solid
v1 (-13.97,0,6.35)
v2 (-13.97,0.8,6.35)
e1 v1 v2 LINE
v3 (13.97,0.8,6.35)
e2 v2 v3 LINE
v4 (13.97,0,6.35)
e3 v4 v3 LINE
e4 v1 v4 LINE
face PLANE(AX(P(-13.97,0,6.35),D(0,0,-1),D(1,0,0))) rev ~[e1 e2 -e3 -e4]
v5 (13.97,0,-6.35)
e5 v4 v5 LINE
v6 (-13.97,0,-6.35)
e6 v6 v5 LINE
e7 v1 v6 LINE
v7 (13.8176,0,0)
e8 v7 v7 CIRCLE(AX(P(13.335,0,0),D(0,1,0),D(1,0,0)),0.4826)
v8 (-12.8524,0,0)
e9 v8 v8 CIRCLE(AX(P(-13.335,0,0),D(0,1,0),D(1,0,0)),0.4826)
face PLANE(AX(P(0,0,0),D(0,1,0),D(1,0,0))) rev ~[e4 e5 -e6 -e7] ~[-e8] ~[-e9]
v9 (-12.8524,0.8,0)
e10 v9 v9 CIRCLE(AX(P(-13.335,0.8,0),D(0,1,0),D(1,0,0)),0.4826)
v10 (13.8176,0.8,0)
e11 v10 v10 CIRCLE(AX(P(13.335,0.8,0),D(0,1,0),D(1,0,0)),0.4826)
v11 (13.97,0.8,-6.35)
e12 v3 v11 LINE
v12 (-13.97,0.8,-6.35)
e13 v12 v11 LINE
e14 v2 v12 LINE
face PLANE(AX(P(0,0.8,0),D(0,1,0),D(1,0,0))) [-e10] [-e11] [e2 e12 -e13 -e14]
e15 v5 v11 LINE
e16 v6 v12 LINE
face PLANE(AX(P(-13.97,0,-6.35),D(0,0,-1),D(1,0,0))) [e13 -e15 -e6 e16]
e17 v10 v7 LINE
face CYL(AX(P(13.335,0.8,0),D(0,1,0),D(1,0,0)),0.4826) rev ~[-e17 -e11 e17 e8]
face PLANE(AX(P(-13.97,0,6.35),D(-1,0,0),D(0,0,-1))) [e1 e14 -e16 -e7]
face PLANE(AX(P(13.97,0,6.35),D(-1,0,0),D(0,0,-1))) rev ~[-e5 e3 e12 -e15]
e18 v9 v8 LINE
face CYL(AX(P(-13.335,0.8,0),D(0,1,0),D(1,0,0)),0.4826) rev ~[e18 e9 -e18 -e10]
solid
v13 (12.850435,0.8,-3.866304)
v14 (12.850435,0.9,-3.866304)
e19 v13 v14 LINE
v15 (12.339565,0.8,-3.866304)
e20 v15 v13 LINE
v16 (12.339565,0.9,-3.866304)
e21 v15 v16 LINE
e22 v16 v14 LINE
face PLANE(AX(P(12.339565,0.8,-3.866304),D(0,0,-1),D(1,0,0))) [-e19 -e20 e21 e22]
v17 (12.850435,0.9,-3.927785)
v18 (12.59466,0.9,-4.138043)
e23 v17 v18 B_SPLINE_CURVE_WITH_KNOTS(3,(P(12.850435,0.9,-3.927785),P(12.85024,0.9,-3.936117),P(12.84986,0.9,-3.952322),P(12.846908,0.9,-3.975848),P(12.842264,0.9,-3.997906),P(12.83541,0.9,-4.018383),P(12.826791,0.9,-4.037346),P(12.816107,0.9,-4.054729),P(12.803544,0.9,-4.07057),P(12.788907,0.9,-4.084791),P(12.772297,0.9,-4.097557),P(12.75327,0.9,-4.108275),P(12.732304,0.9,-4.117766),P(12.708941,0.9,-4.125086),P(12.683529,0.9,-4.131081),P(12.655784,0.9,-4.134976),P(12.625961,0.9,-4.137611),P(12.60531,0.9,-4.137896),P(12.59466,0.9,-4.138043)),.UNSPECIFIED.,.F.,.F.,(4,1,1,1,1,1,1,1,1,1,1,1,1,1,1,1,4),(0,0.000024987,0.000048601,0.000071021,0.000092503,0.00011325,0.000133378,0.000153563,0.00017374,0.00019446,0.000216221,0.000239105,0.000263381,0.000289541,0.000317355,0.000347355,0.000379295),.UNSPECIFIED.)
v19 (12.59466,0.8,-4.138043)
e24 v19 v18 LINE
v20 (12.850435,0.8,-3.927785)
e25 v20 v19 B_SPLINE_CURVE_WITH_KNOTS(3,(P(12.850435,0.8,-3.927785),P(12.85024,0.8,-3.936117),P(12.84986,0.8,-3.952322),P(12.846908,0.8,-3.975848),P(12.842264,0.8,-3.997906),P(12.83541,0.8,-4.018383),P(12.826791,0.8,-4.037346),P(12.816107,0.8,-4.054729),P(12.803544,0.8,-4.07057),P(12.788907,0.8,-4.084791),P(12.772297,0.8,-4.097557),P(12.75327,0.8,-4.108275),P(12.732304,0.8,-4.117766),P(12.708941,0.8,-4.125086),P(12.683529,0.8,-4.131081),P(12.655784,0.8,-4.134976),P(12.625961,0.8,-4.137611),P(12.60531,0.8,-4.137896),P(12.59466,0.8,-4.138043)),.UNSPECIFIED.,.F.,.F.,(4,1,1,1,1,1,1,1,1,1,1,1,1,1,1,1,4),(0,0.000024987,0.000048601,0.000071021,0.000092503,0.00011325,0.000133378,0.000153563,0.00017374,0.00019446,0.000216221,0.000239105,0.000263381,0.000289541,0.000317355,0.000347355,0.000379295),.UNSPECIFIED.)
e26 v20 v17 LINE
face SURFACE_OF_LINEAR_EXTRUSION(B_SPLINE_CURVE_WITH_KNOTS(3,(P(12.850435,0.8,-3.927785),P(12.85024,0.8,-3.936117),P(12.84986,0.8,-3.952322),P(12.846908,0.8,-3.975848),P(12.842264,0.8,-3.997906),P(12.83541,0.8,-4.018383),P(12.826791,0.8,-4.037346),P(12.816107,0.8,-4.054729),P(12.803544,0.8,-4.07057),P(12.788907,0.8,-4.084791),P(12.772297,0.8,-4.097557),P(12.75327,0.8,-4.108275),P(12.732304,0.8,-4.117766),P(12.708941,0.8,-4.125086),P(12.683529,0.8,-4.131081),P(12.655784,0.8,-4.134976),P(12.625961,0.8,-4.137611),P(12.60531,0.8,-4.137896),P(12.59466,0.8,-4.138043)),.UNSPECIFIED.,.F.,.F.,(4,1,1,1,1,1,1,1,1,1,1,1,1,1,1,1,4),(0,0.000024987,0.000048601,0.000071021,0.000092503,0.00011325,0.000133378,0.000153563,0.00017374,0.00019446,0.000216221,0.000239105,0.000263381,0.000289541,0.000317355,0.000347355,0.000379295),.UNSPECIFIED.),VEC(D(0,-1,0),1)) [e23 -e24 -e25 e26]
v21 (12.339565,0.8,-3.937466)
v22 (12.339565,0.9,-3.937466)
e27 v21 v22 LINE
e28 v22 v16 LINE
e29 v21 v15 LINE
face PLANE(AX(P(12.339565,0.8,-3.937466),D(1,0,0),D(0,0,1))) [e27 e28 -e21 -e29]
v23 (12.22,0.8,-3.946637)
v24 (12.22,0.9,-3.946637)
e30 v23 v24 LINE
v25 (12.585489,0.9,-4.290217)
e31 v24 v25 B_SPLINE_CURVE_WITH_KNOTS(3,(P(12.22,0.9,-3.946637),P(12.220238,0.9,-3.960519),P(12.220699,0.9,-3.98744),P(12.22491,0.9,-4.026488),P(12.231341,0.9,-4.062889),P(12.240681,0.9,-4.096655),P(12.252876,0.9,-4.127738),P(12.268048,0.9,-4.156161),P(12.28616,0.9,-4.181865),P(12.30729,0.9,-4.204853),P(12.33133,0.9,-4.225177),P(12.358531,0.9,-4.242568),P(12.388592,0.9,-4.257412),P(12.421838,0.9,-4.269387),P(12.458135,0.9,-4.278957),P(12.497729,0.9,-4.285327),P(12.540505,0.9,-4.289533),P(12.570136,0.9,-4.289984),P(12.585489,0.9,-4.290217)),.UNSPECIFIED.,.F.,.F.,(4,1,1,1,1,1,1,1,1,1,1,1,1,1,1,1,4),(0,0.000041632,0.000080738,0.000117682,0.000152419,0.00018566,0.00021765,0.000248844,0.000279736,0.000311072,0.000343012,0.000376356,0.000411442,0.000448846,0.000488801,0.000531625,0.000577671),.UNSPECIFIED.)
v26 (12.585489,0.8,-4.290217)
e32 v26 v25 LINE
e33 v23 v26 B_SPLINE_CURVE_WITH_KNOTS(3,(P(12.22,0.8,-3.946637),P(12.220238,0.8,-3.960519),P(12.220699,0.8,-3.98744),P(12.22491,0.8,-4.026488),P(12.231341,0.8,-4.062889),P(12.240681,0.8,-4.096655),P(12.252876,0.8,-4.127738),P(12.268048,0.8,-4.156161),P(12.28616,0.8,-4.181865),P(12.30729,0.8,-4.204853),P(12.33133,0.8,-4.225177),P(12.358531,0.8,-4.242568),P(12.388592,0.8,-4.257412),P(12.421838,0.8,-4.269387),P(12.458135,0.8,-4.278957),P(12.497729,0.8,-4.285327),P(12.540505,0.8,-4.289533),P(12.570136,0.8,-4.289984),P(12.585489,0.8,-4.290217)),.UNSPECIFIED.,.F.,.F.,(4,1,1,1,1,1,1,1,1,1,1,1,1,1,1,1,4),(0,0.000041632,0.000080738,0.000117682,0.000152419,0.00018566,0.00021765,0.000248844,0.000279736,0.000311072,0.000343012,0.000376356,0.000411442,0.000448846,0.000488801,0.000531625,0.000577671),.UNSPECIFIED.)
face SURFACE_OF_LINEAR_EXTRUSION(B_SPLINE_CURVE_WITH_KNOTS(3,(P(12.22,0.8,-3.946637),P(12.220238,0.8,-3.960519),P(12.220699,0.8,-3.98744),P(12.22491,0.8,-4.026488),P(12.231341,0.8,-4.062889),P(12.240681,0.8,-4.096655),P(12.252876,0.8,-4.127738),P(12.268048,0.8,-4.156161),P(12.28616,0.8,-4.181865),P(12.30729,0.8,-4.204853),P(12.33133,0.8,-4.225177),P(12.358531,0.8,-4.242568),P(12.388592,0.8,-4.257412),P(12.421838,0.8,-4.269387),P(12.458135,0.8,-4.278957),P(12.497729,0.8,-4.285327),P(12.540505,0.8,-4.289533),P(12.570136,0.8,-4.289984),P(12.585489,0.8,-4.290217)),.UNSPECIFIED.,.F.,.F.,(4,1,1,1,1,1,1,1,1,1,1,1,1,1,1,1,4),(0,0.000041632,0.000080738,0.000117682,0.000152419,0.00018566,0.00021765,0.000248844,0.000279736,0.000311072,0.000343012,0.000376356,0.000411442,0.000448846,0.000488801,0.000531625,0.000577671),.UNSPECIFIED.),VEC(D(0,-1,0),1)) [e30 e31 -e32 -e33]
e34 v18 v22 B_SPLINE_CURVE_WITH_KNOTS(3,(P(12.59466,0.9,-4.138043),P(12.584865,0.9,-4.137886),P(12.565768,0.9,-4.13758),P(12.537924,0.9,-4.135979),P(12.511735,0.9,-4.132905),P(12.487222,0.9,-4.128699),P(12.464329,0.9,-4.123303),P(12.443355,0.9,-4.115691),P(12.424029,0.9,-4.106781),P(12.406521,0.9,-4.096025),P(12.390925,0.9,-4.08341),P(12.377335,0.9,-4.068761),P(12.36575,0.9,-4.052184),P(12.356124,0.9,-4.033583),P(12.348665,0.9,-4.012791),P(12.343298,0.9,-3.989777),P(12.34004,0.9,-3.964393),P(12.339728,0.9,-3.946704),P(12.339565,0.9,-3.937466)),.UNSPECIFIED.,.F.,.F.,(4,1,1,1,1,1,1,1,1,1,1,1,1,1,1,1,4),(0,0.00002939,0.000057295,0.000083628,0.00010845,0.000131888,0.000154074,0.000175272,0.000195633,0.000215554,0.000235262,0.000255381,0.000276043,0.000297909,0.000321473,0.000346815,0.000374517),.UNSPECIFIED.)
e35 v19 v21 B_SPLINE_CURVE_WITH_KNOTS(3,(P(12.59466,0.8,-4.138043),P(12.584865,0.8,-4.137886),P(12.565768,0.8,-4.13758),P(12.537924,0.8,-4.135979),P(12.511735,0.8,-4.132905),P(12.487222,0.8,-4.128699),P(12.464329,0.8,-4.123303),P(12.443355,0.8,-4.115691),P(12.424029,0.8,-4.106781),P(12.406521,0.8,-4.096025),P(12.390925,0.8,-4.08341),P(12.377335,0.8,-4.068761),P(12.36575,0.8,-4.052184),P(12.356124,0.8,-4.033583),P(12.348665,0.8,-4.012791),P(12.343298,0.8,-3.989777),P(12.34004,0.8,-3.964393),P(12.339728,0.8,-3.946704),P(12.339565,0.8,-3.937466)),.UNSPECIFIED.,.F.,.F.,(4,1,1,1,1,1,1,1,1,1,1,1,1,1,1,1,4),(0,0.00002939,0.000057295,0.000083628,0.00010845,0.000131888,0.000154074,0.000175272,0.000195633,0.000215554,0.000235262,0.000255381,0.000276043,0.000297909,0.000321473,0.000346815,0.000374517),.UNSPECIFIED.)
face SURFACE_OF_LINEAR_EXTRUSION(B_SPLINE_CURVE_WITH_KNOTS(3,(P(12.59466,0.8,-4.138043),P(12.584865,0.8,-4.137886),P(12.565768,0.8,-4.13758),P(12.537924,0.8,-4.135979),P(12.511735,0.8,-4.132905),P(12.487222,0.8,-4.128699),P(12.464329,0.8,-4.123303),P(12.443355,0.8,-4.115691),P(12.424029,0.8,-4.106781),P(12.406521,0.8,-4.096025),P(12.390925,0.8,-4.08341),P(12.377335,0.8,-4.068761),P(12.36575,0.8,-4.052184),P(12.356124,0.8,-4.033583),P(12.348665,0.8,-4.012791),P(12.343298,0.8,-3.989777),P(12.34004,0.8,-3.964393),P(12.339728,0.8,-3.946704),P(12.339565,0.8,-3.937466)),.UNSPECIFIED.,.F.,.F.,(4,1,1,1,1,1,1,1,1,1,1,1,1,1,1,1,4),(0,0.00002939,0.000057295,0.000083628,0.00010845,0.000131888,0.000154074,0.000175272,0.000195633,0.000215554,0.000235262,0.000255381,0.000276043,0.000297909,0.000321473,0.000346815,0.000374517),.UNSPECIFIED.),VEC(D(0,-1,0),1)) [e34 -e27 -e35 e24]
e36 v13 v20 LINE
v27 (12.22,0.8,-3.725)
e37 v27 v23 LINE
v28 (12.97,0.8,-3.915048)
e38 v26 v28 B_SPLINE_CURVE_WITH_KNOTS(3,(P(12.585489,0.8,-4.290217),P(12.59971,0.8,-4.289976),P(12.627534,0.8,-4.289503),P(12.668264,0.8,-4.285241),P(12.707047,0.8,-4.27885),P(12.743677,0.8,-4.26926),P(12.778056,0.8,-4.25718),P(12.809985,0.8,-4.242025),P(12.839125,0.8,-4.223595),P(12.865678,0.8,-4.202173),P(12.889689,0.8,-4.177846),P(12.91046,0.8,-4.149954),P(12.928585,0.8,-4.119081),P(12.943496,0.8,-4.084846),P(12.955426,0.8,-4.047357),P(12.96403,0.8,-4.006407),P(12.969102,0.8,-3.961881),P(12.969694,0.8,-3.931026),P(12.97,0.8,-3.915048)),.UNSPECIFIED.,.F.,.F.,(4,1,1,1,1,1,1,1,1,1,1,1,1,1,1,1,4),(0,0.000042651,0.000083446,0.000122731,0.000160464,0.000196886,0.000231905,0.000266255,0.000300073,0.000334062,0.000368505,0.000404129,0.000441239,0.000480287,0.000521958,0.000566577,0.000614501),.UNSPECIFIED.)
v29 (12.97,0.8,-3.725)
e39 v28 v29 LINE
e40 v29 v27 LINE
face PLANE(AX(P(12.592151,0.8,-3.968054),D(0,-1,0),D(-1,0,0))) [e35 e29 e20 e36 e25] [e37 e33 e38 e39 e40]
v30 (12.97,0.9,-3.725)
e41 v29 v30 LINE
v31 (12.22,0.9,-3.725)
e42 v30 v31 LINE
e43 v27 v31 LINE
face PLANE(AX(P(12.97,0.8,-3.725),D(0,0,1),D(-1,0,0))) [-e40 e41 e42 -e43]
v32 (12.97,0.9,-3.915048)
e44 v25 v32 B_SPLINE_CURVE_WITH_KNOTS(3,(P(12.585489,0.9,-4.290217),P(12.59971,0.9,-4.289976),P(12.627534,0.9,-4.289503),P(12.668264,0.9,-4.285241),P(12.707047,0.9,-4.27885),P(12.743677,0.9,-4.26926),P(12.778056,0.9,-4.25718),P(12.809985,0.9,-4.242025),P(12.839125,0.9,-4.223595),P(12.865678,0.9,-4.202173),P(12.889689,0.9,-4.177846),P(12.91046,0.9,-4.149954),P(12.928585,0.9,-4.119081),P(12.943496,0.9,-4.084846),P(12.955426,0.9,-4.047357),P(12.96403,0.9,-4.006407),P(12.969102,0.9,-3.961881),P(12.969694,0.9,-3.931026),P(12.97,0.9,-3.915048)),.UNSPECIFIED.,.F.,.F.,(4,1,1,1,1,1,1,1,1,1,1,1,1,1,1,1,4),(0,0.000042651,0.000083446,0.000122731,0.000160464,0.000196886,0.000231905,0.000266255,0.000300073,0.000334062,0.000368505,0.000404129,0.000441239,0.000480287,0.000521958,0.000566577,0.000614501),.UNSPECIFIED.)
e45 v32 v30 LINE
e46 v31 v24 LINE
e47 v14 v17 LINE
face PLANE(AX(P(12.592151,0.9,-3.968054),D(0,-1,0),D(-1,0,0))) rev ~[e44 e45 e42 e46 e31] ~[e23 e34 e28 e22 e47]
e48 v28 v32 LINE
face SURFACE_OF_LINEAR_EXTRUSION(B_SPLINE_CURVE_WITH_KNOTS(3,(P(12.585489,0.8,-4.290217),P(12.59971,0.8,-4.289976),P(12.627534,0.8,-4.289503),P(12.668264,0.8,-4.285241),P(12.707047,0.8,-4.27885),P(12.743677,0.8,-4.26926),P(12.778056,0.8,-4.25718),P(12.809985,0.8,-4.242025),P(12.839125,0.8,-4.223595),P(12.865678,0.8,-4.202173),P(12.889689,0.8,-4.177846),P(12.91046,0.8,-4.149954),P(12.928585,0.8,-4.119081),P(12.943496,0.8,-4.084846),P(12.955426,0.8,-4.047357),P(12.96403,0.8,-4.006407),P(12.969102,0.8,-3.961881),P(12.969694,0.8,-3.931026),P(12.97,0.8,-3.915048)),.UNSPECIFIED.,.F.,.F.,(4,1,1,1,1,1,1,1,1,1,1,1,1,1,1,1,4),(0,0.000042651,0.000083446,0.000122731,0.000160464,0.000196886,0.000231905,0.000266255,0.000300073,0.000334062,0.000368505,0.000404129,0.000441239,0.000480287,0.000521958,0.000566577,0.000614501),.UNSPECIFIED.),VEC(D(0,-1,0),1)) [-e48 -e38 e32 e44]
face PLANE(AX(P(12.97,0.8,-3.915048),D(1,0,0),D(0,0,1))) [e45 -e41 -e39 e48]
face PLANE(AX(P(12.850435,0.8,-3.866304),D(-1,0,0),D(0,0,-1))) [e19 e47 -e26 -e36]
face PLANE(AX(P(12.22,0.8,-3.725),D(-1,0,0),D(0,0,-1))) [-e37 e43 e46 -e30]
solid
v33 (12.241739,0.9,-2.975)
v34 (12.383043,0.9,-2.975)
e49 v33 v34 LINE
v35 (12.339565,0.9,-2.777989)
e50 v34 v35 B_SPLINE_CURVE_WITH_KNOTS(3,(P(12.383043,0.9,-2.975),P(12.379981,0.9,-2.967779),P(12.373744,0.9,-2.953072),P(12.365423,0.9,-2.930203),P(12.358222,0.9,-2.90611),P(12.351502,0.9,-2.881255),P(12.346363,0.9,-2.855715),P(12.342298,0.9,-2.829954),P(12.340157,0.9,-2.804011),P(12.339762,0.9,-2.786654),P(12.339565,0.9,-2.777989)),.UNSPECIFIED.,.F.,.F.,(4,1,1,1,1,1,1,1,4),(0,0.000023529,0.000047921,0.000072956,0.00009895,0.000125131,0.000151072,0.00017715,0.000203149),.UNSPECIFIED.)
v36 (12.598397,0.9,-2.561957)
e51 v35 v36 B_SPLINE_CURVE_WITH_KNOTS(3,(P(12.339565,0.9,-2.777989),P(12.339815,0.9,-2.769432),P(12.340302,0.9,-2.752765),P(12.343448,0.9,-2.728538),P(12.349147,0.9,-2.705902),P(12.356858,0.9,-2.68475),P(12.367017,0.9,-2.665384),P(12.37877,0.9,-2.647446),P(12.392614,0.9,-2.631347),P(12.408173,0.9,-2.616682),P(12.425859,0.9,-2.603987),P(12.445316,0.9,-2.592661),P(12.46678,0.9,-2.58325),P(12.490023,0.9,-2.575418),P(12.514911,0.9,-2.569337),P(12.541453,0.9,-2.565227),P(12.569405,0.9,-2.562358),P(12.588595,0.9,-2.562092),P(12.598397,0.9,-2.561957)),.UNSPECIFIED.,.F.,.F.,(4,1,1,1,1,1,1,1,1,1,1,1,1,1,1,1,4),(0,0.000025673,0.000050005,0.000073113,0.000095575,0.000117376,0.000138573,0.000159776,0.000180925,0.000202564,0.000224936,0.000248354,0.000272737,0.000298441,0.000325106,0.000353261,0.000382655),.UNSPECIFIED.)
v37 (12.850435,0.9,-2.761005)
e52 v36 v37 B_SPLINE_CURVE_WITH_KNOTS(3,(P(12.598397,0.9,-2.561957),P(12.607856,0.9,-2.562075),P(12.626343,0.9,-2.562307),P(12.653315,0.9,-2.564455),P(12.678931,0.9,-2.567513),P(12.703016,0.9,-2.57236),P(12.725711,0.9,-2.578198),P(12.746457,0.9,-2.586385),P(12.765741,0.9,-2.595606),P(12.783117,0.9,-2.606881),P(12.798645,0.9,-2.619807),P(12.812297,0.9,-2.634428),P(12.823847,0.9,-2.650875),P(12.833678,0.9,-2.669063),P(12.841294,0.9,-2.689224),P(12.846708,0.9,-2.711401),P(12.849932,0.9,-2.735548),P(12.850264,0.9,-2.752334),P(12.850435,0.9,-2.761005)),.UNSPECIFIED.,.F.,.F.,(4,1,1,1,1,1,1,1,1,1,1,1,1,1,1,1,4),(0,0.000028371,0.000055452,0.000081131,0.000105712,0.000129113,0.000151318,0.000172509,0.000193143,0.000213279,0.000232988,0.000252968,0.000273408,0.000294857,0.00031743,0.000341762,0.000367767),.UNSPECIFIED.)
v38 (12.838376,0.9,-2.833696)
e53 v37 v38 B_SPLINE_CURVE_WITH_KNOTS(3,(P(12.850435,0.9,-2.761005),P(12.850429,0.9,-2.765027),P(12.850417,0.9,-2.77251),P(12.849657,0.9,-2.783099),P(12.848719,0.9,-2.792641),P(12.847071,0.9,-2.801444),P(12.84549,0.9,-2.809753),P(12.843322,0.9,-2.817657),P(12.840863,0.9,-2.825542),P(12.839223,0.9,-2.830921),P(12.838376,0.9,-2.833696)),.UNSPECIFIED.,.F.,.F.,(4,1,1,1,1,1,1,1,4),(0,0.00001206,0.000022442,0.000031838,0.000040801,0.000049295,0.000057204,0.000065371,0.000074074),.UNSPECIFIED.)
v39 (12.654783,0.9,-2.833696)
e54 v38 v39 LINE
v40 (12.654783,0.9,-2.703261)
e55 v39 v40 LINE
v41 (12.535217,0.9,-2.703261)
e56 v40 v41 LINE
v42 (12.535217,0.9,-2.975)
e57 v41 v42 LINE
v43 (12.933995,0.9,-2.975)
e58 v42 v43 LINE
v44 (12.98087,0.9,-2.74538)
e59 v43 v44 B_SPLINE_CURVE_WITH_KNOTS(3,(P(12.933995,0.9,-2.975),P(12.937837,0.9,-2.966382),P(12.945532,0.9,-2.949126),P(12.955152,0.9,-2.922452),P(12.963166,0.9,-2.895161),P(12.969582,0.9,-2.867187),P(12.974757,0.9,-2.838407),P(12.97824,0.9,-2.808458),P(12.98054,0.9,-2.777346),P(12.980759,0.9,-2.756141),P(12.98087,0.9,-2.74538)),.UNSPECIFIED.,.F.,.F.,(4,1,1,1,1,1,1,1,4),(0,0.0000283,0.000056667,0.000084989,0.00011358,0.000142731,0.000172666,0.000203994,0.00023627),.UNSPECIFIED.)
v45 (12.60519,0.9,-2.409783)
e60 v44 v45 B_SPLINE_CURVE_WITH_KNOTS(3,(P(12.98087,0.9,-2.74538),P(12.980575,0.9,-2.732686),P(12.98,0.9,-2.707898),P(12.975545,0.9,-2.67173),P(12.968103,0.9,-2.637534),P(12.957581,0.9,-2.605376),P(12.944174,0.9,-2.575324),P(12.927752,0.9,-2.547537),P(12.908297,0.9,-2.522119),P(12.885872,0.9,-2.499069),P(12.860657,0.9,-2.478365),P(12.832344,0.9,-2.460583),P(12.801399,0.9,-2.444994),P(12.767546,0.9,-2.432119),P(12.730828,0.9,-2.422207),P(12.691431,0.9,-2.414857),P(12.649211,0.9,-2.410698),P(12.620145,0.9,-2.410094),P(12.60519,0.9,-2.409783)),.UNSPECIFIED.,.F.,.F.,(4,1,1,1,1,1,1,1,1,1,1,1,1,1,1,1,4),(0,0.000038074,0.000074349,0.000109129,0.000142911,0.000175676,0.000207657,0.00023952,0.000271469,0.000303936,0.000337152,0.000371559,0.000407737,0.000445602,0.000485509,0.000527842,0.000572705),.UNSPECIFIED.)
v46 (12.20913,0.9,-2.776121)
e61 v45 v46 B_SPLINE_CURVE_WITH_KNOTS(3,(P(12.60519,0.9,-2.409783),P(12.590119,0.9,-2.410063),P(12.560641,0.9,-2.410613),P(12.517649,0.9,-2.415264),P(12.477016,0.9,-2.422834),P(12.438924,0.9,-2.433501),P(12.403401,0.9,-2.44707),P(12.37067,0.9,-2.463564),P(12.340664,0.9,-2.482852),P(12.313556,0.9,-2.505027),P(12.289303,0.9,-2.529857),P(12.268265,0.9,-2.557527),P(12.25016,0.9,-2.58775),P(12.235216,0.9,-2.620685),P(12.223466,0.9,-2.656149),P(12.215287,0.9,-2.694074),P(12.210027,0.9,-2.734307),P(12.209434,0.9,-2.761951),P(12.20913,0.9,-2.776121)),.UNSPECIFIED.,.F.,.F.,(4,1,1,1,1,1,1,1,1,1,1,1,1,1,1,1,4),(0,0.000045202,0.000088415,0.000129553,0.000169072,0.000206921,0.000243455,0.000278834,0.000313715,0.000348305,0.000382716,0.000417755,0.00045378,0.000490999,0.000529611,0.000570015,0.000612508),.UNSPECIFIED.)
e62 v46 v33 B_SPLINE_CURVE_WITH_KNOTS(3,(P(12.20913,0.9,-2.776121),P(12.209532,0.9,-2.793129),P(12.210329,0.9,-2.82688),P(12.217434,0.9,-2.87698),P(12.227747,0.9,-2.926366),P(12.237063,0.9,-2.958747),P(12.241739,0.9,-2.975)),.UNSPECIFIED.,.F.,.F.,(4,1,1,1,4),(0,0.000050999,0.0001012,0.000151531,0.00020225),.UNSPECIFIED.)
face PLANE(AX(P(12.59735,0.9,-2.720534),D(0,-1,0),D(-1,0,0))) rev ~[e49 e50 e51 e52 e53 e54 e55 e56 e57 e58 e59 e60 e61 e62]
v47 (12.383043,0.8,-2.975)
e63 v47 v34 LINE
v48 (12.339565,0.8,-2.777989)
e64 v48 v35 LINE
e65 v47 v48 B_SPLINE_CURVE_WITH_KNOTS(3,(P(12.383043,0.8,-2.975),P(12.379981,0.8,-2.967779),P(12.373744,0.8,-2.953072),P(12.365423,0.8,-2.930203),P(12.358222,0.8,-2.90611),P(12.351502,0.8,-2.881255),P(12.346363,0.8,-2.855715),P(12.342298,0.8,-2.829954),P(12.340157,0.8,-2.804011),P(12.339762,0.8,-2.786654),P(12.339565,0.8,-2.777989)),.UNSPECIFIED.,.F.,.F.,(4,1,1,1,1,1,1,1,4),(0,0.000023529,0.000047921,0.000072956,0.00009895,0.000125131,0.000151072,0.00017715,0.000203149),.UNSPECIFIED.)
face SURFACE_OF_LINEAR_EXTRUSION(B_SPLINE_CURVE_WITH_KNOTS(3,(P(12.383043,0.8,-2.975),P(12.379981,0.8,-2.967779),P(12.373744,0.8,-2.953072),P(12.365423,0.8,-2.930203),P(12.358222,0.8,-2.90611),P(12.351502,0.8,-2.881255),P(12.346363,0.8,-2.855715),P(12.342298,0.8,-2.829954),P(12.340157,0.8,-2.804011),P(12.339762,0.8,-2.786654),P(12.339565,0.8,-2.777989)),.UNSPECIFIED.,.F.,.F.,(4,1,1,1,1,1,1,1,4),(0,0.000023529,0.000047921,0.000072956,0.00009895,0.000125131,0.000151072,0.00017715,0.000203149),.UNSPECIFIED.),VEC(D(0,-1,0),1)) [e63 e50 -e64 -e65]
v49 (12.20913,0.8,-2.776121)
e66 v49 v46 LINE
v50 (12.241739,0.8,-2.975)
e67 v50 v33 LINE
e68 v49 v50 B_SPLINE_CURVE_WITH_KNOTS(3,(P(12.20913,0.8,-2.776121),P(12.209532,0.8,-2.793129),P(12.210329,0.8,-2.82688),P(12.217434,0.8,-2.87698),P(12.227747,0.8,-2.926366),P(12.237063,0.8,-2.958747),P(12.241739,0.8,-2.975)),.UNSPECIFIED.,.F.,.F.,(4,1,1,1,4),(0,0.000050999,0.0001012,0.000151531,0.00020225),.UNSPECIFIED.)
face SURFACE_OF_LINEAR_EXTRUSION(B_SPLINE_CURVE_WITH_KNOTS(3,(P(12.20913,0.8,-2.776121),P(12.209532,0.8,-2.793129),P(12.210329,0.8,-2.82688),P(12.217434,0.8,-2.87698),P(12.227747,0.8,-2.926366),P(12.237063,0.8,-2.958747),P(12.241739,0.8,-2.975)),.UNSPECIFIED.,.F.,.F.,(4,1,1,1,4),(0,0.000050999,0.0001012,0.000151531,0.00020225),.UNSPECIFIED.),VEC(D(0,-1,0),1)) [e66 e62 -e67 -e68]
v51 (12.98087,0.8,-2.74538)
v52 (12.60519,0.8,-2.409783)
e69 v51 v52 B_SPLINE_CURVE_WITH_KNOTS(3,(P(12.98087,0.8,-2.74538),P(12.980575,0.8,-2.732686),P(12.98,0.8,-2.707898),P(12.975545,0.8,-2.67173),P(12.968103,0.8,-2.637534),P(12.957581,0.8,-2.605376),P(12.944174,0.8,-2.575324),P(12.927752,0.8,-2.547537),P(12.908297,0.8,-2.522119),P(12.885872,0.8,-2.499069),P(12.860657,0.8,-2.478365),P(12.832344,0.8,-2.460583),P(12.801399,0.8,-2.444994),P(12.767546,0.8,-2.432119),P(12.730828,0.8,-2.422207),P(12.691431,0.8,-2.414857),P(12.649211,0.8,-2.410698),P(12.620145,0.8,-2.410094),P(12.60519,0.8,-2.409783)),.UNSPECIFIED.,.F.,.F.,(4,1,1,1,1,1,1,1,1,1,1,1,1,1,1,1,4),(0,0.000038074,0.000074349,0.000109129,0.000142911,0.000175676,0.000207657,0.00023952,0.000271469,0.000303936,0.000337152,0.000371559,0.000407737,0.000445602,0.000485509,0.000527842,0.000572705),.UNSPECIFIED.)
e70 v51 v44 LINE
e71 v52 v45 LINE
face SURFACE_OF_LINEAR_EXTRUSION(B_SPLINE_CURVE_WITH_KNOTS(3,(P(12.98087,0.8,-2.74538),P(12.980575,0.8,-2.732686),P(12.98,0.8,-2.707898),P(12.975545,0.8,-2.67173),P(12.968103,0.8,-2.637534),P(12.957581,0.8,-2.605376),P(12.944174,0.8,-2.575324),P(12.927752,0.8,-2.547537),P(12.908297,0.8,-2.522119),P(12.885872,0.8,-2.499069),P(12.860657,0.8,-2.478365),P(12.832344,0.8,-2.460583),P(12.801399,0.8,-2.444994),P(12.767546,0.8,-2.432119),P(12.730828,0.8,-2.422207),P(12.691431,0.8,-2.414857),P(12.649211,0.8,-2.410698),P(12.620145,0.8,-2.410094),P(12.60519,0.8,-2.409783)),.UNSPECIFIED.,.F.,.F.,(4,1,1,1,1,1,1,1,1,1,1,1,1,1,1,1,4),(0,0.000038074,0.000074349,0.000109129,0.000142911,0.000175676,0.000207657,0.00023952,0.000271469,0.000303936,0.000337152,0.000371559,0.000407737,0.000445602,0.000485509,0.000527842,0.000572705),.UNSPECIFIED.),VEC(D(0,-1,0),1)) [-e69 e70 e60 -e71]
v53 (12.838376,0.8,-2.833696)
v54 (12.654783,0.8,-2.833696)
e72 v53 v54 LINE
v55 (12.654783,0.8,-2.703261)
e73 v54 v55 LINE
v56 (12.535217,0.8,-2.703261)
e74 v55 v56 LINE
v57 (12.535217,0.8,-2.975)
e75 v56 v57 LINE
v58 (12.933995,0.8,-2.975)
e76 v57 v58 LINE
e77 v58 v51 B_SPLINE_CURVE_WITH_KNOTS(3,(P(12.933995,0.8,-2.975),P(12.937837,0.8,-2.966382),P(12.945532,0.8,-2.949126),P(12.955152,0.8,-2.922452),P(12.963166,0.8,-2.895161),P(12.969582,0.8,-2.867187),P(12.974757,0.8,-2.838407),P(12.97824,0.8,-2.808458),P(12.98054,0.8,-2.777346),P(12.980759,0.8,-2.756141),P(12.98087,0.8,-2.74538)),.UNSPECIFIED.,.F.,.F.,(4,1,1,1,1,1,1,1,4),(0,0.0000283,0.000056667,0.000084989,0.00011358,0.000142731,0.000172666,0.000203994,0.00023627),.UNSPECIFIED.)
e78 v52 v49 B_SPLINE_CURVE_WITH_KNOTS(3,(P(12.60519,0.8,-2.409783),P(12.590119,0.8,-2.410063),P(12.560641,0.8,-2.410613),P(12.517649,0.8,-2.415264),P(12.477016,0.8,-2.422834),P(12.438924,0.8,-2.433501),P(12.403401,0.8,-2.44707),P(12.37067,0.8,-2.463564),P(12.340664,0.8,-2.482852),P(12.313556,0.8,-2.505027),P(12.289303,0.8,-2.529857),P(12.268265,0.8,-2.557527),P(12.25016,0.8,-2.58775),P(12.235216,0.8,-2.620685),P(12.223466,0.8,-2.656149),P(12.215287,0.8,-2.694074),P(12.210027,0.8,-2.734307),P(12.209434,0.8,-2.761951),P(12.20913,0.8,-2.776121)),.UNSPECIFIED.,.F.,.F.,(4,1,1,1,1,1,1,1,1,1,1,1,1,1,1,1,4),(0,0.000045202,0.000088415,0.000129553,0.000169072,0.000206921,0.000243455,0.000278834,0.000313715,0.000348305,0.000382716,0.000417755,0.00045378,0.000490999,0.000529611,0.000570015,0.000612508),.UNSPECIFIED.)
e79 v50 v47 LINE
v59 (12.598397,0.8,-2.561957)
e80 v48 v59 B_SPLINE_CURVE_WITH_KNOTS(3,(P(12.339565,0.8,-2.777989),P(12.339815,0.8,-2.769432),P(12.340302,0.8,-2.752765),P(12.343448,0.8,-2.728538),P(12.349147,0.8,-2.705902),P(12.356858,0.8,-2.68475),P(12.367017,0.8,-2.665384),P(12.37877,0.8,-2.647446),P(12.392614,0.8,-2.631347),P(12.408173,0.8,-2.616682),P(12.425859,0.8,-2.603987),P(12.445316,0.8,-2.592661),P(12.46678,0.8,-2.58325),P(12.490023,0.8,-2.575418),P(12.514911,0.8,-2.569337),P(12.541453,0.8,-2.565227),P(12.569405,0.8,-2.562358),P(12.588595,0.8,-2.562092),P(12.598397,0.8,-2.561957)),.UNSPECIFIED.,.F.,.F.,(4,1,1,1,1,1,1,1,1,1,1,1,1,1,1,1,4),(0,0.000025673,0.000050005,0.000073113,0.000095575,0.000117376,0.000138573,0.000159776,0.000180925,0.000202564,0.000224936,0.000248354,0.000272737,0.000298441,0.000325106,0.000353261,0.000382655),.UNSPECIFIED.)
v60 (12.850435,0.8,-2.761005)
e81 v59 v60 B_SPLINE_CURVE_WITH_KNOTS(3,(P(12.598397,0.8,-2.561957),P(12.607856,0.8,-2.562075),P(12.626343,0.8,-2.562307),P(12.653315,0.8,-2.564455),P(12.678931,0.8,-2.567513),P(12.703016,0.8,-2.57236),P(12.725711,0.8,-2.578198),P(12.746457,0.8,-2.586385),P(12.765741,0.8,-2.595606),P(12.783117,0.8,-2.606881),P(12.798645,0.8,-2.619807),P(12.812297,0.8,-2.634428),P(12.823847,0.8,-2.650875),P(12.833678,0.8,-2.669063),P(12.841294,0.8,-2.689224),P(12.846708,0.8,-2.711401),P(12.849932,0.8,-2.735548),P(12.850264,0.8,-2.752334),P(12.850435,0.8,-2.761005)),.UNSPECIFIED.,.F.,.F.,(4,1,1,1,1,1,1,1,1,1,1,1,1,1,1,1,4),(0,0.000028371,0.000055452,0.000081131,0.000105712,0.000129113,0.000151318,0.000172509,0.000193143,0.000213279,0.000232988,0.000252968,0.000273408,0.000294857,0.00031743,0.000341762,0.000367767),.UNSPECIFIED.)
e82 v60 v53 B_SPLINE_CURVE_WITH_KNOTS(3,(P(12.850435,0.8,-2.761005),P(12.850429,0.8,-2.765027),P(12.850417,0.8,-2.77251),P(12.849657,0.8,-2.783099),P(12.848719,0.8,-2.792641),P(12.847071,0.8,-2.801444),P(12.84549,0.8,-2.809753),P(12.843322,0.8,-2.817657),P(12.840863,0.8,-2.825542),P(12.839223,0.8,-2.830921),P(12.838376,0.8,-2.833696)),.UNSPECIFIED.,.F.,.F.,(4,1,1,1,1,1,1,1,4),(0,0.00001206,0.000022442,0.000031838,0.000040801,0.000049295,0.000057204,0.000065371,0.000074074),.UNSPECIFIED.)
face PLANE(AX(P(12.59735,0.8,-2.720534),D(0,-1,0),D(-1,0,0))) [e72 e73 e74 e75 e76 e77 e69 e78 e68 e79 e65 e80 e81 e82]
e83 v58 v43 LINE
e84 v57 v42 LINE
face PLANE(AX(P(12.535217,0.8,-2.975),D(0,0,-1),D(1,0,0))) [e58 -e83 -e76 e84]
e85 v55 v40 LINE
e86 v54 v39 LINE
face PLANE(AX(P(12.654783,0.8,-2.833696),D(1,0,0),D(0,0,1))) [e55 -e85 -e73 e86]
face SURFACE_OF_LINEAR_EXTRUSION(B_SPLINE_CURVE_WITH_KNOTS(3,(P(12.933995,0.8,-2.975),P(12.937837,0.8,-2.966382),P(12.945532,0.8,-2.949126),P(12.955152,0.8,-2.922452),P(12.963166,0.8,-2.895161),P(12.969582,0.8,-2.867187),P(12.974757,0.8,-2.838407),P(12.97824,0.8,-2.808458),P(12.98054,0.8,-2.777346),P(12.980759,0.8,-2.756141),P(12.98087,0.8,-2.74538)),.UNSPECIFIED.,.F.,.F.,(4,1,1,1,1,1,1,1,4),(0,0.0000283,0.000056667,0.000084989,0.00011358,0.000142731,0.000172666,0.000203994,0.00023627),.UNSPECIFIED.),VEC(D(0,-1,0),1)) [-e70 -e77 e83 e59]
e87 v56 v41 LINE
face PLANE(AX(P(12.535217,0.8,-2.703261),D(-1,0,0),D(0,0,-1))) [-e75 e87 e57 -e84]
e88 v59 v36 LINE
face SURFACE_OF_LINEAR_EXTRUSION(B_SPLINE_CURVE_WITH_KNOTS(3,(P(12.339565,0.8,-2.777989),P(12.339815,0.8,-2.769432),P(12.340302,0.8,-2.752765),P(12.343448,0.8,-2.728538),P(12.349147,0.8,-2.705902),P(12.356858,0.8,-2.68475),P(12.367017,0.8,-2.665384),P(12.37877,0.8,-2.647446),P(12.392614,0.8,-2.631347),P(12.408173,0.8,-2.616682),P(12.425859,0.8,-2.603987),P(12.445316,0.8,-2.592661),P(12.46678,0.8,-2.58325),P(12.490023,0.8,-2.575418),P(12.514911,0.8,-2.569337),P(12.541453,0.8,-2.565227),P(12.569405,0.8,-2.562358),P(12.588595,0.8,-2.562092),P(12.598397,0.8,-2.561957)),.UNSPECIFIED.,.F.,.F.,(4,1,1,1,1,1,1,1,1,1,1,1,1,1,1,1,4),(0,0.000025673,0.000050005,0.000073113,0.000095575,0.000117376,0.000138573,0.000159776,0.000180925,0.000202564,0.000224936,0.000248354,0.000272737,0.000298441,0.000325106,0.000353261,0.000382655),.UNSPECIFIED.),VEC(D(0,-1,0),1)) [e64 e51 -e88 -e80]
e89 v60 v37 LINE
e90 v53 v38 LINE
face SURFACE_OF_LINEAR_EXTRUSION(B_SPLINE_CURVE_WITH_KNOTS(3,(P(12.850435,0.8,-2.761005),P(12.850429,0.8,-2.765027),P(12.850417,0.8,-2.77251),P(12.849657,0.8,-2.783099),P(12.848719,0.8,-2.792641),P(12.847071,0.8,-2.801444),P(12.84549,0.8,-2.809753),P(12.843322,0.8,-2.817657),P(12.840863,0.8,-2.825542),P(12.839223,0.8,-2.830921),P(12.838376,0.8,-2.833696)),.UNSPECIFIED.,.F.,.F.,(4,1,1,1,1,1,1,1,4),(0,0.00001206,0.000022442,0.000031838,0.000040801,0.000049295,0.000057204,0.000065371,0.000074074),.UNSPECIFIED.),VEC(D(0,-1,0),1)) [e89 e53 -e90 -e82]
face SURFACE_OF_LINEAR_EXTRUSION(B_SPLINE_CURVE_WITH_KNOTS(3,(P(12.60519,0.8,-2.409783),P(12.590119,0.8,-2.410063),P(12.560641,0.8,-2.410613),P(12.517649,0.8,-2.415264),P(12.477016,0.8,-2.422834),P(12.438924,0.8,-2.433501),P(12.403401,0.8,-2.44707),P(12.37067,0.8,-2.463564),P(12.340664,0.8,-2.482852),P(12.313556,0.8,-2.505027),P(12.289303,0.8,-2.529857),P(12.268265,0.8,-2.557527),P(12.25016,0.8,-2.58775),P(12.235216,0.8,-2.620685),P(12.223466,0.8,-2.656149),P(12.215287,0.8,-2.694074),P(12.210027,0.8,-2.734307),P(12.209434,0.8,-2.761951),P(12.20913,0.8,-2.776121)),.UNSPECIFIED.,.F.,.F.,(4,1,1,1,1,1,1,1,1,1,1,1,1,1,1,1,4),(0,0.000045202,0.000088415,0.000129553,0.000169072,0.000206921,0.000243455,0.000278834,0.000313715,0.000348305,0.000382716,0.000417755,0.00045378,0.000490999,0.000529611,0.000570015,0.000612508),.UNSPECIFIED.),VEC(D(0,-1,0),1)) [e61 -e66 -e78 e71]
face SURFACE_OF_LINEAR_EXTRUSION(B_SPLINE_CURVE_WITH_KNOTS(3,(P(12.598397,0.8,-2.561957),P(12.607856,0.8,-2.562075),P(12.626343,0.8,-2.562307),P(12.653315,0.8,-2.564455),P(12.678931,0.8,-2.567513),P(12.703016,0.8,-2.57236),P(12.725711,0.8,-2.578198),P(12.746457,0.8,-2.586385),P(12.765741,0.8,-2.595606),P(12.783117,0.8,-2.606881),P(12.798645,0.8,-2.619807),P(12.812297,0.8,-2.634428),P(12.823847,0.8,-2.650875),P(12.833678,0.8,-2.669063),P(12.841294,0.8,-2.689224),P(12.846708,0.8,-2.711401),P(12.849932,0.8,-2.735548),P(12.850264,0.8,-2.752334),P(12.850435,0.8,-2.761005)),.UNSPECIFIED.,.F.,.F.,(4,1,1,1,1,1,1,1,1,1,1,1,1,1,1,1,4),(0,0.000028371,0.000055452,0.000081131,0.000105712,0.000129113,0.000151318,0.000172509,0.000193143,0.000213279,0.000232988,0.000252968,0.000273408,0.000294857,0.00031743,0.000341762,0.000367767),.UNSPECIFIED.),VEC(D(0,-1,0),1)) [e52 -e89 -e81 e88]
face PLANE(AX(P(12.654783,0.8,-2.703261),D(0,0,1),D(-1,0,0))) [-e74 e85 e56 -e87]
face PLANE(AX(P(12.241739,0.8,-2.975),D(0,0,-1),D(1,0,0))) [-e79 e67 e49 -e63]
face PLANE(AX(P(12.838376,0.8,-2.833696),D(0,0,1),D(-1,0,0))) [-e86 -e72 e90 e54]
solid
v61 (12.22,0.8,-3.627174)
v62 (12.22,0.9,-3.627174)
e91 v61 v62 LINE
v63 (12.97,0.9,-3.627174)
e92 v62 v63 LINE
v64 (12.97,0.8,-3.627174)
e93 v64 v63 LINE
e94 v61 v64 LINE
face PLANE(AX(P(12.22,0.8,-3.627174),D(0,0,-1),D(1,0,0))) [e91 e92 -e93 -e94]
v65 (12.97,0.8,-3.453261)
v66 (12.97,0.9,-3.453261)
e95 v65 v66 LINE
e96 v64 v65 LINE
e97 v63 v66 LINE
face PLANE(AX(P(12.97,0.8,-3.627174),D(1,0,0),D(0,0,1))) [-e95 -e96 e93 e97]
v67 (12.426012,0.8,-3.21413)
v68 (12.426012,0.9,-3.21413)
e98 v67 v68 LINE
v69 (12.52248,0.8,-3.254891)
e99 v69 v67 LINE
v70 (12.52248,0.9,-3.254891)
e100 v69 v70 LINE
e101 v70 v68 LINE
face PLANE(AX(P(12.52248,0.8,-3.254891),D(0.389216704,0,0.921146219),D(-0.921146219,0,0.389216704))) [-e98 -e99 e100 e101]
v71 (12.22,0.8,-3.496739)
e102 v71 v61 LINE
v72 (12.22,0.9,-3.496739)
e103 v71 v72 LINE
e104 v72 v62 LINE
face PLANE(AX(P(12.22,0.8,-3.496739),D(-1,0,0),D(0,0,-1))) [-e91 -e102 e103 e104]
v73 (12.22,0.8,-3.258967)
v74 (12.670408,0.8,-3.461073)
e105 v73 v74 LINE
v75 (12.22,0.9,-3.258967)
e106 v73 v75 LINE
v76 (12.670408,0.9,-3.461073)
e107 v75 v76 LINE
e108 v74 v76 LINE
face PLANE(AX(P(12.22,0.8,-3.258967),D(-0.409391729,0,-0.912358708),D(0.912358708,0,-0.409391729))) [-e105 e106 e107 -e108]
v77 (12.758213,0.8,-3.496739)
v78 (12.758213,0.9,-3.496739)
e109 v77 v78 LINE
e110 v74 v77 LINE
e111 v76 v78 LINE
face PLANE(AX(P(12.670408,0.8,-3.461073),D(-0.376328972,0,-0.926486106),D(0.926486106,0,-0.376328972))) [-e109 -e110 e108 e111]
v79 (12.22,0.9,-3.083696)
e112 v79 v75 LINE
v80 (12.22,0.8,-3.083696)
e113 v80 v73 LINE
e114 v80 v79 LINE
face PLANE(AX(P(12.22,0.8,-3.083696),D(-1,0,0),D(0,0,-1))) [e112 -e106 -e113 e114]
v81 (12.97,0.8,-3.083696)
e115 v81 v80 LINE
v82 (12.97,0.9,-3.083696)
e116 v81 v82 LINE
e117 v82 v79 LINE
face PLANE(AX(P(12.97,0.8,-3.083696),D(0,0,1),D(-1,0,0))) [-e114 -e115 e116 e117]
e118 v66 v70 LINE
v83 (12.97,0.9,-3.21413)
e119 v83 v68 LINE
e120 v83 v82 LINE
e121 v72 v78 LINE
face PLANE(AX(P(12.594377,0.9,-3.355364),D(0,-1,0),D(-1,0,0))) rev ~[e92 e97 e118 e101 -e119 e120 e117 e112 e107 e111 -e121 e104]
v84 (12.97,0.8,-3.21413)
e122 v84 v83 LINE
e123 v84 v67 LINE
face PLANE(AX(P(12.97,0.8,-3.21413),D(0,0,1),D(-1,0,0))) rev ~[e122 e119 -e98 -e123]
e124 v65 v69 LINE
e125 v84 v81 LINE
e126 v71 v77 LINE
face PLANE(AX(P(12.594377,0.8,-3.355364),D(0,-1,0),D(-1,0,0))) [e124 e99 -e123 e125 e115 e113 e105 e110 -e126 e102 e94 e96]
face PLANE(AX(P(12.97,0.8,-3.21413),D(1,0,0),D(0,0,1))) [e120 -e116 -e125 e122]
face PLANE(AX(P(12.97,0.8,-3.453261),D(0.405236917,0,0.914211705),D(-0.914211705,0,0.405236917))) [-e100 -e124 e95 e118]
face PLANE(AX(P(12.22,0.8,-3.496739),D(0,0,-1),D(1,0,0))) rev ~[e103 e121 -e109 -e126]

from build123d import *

# Parameters (mm, degrees)
SKETCH1_W             = 27.94
SKETCH1_H             = 12.7
BOSS_EXTRUDE1_DEPTH   = 0.8
BOSS_EXTRUDE3_DEPTH   = 0.1
BOSS_EXTRUDE3_2_DEPTH = 0.1
BOSS_EXTRUDE3_3_DEPTH = 0.1
SKETCH3_R             = 0.4826
CUT_EXTRUDE1_DEPTH    = 1.8


with BuildPart() as part:
    # Sketch1 → Boss-Extrude1 (new body)
    with BuildSketch(Plane(origin=(0, 0, 0), x_dir=(1, 0, 0), z_dir=(0, 1, 0))):
        Rectangle(SKETCH1_W, SKETCH1_H)
    extrude(amount=BOSS_EXTRUDE1_DEPTH)

    # Sketch3 → Cut-Extrude1 (cut, through all)
    with BuildSketch(Plane(origin=(0, 0.8, 0), x_dir=(1, 0, 0), z_dir=(0, 1, 0))):
        with Locations((-13.335, 0)):
            Circle(SKETCH3_R)
        with Locations((13.335, 0)):
            Circle(SKETCH3_R)
    extrude(amount=-CUT_EXTRUDE1_DEPTH, mode=Mode.SUBTRACT)


with BuildPart() as body_2:
    # Sketch2 → Boss-Extrude3 (new body)
    with BuildSketch(Plane(origin=(0, 0.8, 0), x_dir=(1, 0, 0), z_dir=(0, 1, 0))):
        with BuildLine():
            Line((12.654782609, 2.70326087), (12.535217391, 2.70326087))
            Line((12.535217391, 2.70326087), (12.535217391, 2.975))
            Line((12.535217391, 2.975), (12.933994565, 2.975))
            add(Edge.make_bspline(
                [(12.933994565, 2.975), (12.937837468, 2.966382306), (12.945532468, 2.949126304), (12.955152264, 2.922452152), (12.963165662, 2.895161446), (12.969582444, 2.867186739), (12.974756704, 2.838406753), (12.978239832, 2.808457977), (12.980539909, 2.777346131), (12.980758593, 2.756141049), (12.980869565, 2.745380435)],
                knots=[0, 0, 0, 0, 2.83e-05, 5.6667e-05, 8.4989e-05, 0.00011358, 0.000142731, 0.000172666, 0.000203994, 0.00023627, 0.00023627, 0.00023627, 0.00023627], degree=3))
            add(Edge.make_bspline(
                [(12.980869565, 2.745380435), (12.980575135, 2.732686426), (12.980000187, 2.70789819), (12.975544847, 2.671730082), (12.968102985, 2.637534066), (12.95758082, 2.605375869), (12.944174483, 2.57532413), (12.927751506, 2.547537374), (12.908296896, 2.522119124), (12.885871835, 2.499068556), (12.860656623, 2.478365329), (12.832343935, 2.460583289), (12.801398893, 2.444994305), (12.76754561, 2.432119366), (12.730828208, 2.422206945), (12.691431111, 2.414857144), (12.649210662, 2.41069843), (12.620144812, 2.410093731), (12.605190217, 2.409782609)],
                knots=[0, 0, 0, 0, 3.8074e-05, 7.4349e-05, 0.000109129, 0.000142911, 0.000175676, 0.000207657, 0.00023952, 0.000271469, 0.000303936, 0.000337152, 0.000371559, 0.000407737, 0.000445602, 0.000485509, 0.000527842, 0.000572705, 0.000572705, 0.000572705, 0.000572705], degree=3))
            add(Edge.make_bspline(
                [(12.605190217, 2.409782609), (12.590119329, 2.410063379), (12.560640948, 2.410612562), (12.517649028, 2.415264178), (12.477015917, 2.422834197), (12.438924245, 2.433501081), (12.40340077, 2.447069567), (12.37066987, 2.46356367), (12.340664417, 2.482851666), (12.313555861, 2.505027053), (12.289303043, 2.52985676), (12.268264698, 2.557527053), (12.250159996, 2.587749777), (12.235215685, 2.620684853), (12.223466349, 2.656149359), (12.215286825, 2.694073788), (12.210026575, 2.734307056), (12.209434125, 2.761950748), (12.209130435, 2.776120924)],
                knots=[0, 0, 0, 0, 4.5202e-05, 8.8415e-05, 0.000129553, 0.000169072, 0.000206921, 0.000243455, 0.000278834, 0.000313715, 0.000348305, 0.000382716, 0.000417755, 0.00045378, 0.000490999, 0.000529611, 0.000570015, 0.000612508, 0.000612508, 0.000612508, 0.000612508], degree=3))
            add(Edge.make_bspline(
                [(12.209130435, 2.776120924), (12.209532218, 2.793129262), (12.210329498, 2.826879873), (12.217434247, 2.876980037), (12.227746501, 2.9263664), (12.237062955, 2.958747212), (12.24173913, 2.975)],
                knots=[0, 0, 0, 0, 5.0999e-05, 0.0001012, 0.000151531, 0.00020225, 0.00020225, 0.00020225, 0.00020225], degree=3))
            Line((12.24173913, 2.975), (12.383043478, 2.975))
            add(Edge.make_bspline(
                [(12.383043478, 2.975), (12.379980993, 2.967778877), (12.373743753, 2.95307191), (12.365423125, 2.930202926), (12.358221837, 2.906110152), (12.351502266, 2.881255283), (12.346362637, 2.855715347), (12.342297504, 2.829954064), (12.340157423, 2.804010513), (12.339762417, 2.786654064), (12.339565217, 2.77798913)],
                knots=[0, 0, 0, 0, 2.3529e-05, 4.7921e-05, 7.2956e-05, 9.895e-05, 0.000125131, 0.000151072, 0.00017715, 0.000203149, 0.000203149, 0.000203149, 0.000203149], degree=3))
            add(Edge.make_bspline(
                [(12.339565217, 2.77798913), (12.339815286, 2.769432119), (12.34030236, 2.752765113), (12.343447714, 2.728538157), (12.349147142, 2.705902276), (12.356858098, 2.684749584), (12.367016557, 2.665384213), (12.378769875, 2.647446257), (12.392613504, 2.631346948), (12.408172988, 2.616681988), (12.425858915, 2.603987462), (12.445316436, 2.592660553), (12.466779836, 2.583250077), (12.490023007, 2.575418095), (12.514911387, 2.56933739), (12.541452876, 2.565226831), (12.569405263, 2.562357784), (12.588595139, 2.562092183), (12.598396739, 2.561956522)],
                knots=[0, 0, 0, 0, 2.5673e-05, 5.0005e-05, 7.3113e-05, 9.5575e-05, 0.000117376, 0.000138573, 0.000159776, 0.000180925, 0.000202564, 0.000224936, 0.000248354, 0.000272737, 0.000298441, 0.000325106, 0.000353261, 0.000382655, 0.000382655, 0.000382655, 0.000382655], degree=3))
            add(Edge.make_bspline(
                [(12.598396739, 2.561956522), (12.607855646, 2.562075031), (12.62634336, 2.56230666), (12.653314568, 2.564455477), (12.67893141, 2.567512732), (12.703015522, 2.572359742), (12.725710718, 2.578197941), (12.74645669, 2.586384894), (12.76574066, 2.595605891), (12.783117438, 2.606880689), (12.798645399, 2.619807192), (12.812297347, 2.634428016), (12.823846675, 2.65087516), (12.833678284, 2.669062622), (12.841293642, 2.689224243), (12.846708355, 2.71140086), (12.849932462, 2.735547695), (12.850263673, 2.752333528), (12.850434783, 2.761005435)],
                knots=[0, 0, 0, 0, 2.8371e-05, 5.5452e-05, 8.1131e-05, 0.000105712, 0.000129113, 0.000151318, 0.000172509, 0.000193143, 0.000213279, 0.000232988, 0.000252968, 0.000273408, 0.000294857, 0.00031743, 0.000341762, 0.000367767, 0.000367767, 0.000367767, 0.000367767], degree=3))
            add(Edge.make_bspline(
                [(12.850434783, 2.761005435), (12.850428671, 2.76502677), (12.850417297, 2.772510133), (12.84965684, 2.783099356), (12.848718815, 2.79264104), (12.847071406, 2.801443731), (12.845490001, 2.809753003), (12.843321763, 2.817657415), (12.840862664, 2.82554187), (12.839222527, 2.830920662), (12.838376359, 2.833695652)],
                knots=[0, 0, 0, 0, 1.206e-05, 2.2442e-05, 3.1838e-05, 4.0801e-05, 4.9295e-05, 5.7204e-05, 6.5371e-05, 7.4074e-05, 7.4074e-05, 7.4074e-05, 7.4074e-05], degree=3))
            Line((12.838376359, 2.833695652), (12.654782609, 2.833695652))
            Line((12.654782609, 2.833695652), (12.654782609, 2.70326087))
        make_face()
    extrude(amount=BOSS_EXTRUDE3_DEPTH)


with BuildPart() as body_3:
    # Sketch2 → Boss-Extrude3 2 (new body)
    with BuildSketch(Plane(origin=(0, 0.8, 0), x_dir=(1, 0, 0), z_dir=(0, 1, 0))):
        Polygon((12.97, 3.45326087), (12.52247962, 3.254891304), (12.426012228, 3.214130435), (12.736983696, 3.214130435), (12.97, 3.214130435), (12.97, 3.083695652), (12.22, 3.083695652), (12.22, 3.258967391), (12.670407609, 3.46107337), (12.758213315, 3.49673913), (12.427201087, 3.49673913), (12.22, 3.49673913), (12.22, 3.627173913), (12.97, 3.627173913), align=None)
    extrude(amount=BOSS_EXTRUDE3_2_DEPTH)


with BuildPart() as body_4:
    # Sketch2 → Boss-Extrude3 3 (new body)
    with BuildSketch(Plane(origin=(0, 0.8, 0), x_dir=(1, 0, 0), z_dir=(0, 1, 0))):
        with BuildLine():
            add(Edge.make_bspline(
                [(12.58548913, 4.290217391), (12.599710224, 4.289975652), (12.627533712, 4.289502692), (12.668263571, 4.285240593), (12.707047306, 4.278850222), (12.743677008, 4.269260397), (12.778055728, 4.25718027), (12.80998465, 4.242025479), (12.839124854, 4.223594949), (12.865678124, 4.20217252), (12.889688937, 4.177846254), (12.910460102, 4.149954132), (12.928585187, 4.119081437), (12.943495907, 4.084845598), (12.955426479, 4.047356907), (12.964029618, 4.00640729), (12.969102061, 3.961880726), (12.969693645, 3.931025897), (12.97, 3.915047554)],
                knots=[0, 0, 0, 0, 4.2651e-05, 8.3446e-05, 0.000122731, 0.000160464, 0.000196886, 0.000231905, 0.000266255, 0.000300073, 0.000334062, 0.000368505, 0.000404129, 0.000441239, 0.000480287, 0.000521958, 0.000566577, 0.000614501, 0.000614501, 0.000614501, 0.000614501], degree=3))
            Line((12.97, 3.915047554), (12.97, 3.725))
            Line((12.97, 3.725), (12.22, 3.725))
            Line((12.22, 3.725), (12.22, 3.946637228))
            add(Edge.make_bspline(
                [(12.22, 3.946637228), (12.220237689, 3.960518854), (12.220698643, 3.987439664), (12.224909749, 4.026487898), (12.231340527, 4.062888509), (12.240681124, 4.096654779), (12.25287599, 4.127737811), (12.26804846, 4.156160796), (12.286160399, 4.181864822), (12.307289513, 4.204852708), (12.331330057, 4.225177016), (12.358531463, 4.242568298), (12.388592407, 4.257411656), (12.421838105, 4.269386708), (12.458135011, 4.278956503), (12.497729156, 4.285327428), (12.540504801, 4.289532806), (12.570136214, 4.289983746), (12.58548913, 4.290217391)],
                knots=[0, 0, 0, 0, 4.1632e-05, 8.0738e-05, 0.000117682, 0.000152419, 0.00018566, 0.00021765, 0.000248844, 0.000279736, 0.000311072, 0.000343012, 0.000376356, 0.000411442, 0.000448846, 0.000488801, 0.000531625, 0.000577671, 0.000577671, 0.000577671, 0.000577671], degree=3))
        make_face()
        with BuildLine():
            add(Edge.make_bspline(
                [(12.594660326, 4.138043478), (12.584864589, 4.137886335), (12.565767958, 4.137579987), (12.537924462, 4.135979474), (12.511734986, 4.132904505), (12.487222162, 4.12869877), (12.464329042, 4.1233035), (12.443354505, 4.115691351), (12.42402882, 4.10678128), (12.40652124, 4.096024887), (12.390925185, 4.083410476), (12.37733451, 4.068760818), (12.365749837, 4.052184413), (12.356124233, 4.033583129), (12.348664549, 4.012791133), (12.343298257, 3.989776713), (12.340040163, 3.964393363), (12.33972816, 3.946704149), (12.339565217, 3.937466033)],
                knots=[0, 0, 0, 0, 2.939e-05, 5.7295e-05, 8.3628e-05, 0.00010845, 0.000131888, 0.000154074, 0.000175272, 0.000195633, 0.000215554, 0.000235262, 0.000255381, 0.000276043, 0.000297909, 0.000321473, 0.000346815, 0.000374517, 0.000374517, 0.000374517, 0.000374517], degree=3))
            Line((12.339565217, 3.937466033), (12.339565217, 3.866304348))
            Line((12.339565217, 3.866304348), (12.850434783, 3.866304348))
            Line((12.850434783, 3.866304348), (12.850434783, 3.927785326))
            add(Edge.make_bspline(
                [(12.850434783, 3.927785326), (12.850239672, 3.936116612), (12.849860166, 3.952321671), (12.846907915, 3.975848039), (12.842263839, 3.997905928), (12.835409562, 4.018383166), (12.826790511, 4.037346428), (12.816106699, 4.054729339), (12.803544216, 4.070569642), (12.788907206, 4.084791271), (12.772296576, 4.097556526), (12.753270496, 4.108275295), (12.732304426, 4.117765848), (12.708941442, 4.125085769), (12.683529028, 4.131080522), (12.655783654, 4.134976093), (12.625961423, 4.137610835), (12.60530974, 4.137896282), (12.594660326, 4.138043478)],
                knots=[0, 0, 0, 0, 2.4987e-05, 4.8601e-05, 7.1021e-05, 9.2503e-05, 0.00011325, 0.000133378, 0.000153563, 0.00017374, 0.00019446, 0.000216221, 0.000239105, 0.000263381, 0.000289541, 0.000317355, 0.000347355, 0.000379295, 0.000379295, 0.000379295, 0.000379295], degree=3))
        make_face(mode=Mode.SUBTRACT)
    extrude(amount=BOSS_EXTRUDE3_3_DEPTH)


solid = Compound([part.part, body_2.part, body_3.part, body_4.part])
